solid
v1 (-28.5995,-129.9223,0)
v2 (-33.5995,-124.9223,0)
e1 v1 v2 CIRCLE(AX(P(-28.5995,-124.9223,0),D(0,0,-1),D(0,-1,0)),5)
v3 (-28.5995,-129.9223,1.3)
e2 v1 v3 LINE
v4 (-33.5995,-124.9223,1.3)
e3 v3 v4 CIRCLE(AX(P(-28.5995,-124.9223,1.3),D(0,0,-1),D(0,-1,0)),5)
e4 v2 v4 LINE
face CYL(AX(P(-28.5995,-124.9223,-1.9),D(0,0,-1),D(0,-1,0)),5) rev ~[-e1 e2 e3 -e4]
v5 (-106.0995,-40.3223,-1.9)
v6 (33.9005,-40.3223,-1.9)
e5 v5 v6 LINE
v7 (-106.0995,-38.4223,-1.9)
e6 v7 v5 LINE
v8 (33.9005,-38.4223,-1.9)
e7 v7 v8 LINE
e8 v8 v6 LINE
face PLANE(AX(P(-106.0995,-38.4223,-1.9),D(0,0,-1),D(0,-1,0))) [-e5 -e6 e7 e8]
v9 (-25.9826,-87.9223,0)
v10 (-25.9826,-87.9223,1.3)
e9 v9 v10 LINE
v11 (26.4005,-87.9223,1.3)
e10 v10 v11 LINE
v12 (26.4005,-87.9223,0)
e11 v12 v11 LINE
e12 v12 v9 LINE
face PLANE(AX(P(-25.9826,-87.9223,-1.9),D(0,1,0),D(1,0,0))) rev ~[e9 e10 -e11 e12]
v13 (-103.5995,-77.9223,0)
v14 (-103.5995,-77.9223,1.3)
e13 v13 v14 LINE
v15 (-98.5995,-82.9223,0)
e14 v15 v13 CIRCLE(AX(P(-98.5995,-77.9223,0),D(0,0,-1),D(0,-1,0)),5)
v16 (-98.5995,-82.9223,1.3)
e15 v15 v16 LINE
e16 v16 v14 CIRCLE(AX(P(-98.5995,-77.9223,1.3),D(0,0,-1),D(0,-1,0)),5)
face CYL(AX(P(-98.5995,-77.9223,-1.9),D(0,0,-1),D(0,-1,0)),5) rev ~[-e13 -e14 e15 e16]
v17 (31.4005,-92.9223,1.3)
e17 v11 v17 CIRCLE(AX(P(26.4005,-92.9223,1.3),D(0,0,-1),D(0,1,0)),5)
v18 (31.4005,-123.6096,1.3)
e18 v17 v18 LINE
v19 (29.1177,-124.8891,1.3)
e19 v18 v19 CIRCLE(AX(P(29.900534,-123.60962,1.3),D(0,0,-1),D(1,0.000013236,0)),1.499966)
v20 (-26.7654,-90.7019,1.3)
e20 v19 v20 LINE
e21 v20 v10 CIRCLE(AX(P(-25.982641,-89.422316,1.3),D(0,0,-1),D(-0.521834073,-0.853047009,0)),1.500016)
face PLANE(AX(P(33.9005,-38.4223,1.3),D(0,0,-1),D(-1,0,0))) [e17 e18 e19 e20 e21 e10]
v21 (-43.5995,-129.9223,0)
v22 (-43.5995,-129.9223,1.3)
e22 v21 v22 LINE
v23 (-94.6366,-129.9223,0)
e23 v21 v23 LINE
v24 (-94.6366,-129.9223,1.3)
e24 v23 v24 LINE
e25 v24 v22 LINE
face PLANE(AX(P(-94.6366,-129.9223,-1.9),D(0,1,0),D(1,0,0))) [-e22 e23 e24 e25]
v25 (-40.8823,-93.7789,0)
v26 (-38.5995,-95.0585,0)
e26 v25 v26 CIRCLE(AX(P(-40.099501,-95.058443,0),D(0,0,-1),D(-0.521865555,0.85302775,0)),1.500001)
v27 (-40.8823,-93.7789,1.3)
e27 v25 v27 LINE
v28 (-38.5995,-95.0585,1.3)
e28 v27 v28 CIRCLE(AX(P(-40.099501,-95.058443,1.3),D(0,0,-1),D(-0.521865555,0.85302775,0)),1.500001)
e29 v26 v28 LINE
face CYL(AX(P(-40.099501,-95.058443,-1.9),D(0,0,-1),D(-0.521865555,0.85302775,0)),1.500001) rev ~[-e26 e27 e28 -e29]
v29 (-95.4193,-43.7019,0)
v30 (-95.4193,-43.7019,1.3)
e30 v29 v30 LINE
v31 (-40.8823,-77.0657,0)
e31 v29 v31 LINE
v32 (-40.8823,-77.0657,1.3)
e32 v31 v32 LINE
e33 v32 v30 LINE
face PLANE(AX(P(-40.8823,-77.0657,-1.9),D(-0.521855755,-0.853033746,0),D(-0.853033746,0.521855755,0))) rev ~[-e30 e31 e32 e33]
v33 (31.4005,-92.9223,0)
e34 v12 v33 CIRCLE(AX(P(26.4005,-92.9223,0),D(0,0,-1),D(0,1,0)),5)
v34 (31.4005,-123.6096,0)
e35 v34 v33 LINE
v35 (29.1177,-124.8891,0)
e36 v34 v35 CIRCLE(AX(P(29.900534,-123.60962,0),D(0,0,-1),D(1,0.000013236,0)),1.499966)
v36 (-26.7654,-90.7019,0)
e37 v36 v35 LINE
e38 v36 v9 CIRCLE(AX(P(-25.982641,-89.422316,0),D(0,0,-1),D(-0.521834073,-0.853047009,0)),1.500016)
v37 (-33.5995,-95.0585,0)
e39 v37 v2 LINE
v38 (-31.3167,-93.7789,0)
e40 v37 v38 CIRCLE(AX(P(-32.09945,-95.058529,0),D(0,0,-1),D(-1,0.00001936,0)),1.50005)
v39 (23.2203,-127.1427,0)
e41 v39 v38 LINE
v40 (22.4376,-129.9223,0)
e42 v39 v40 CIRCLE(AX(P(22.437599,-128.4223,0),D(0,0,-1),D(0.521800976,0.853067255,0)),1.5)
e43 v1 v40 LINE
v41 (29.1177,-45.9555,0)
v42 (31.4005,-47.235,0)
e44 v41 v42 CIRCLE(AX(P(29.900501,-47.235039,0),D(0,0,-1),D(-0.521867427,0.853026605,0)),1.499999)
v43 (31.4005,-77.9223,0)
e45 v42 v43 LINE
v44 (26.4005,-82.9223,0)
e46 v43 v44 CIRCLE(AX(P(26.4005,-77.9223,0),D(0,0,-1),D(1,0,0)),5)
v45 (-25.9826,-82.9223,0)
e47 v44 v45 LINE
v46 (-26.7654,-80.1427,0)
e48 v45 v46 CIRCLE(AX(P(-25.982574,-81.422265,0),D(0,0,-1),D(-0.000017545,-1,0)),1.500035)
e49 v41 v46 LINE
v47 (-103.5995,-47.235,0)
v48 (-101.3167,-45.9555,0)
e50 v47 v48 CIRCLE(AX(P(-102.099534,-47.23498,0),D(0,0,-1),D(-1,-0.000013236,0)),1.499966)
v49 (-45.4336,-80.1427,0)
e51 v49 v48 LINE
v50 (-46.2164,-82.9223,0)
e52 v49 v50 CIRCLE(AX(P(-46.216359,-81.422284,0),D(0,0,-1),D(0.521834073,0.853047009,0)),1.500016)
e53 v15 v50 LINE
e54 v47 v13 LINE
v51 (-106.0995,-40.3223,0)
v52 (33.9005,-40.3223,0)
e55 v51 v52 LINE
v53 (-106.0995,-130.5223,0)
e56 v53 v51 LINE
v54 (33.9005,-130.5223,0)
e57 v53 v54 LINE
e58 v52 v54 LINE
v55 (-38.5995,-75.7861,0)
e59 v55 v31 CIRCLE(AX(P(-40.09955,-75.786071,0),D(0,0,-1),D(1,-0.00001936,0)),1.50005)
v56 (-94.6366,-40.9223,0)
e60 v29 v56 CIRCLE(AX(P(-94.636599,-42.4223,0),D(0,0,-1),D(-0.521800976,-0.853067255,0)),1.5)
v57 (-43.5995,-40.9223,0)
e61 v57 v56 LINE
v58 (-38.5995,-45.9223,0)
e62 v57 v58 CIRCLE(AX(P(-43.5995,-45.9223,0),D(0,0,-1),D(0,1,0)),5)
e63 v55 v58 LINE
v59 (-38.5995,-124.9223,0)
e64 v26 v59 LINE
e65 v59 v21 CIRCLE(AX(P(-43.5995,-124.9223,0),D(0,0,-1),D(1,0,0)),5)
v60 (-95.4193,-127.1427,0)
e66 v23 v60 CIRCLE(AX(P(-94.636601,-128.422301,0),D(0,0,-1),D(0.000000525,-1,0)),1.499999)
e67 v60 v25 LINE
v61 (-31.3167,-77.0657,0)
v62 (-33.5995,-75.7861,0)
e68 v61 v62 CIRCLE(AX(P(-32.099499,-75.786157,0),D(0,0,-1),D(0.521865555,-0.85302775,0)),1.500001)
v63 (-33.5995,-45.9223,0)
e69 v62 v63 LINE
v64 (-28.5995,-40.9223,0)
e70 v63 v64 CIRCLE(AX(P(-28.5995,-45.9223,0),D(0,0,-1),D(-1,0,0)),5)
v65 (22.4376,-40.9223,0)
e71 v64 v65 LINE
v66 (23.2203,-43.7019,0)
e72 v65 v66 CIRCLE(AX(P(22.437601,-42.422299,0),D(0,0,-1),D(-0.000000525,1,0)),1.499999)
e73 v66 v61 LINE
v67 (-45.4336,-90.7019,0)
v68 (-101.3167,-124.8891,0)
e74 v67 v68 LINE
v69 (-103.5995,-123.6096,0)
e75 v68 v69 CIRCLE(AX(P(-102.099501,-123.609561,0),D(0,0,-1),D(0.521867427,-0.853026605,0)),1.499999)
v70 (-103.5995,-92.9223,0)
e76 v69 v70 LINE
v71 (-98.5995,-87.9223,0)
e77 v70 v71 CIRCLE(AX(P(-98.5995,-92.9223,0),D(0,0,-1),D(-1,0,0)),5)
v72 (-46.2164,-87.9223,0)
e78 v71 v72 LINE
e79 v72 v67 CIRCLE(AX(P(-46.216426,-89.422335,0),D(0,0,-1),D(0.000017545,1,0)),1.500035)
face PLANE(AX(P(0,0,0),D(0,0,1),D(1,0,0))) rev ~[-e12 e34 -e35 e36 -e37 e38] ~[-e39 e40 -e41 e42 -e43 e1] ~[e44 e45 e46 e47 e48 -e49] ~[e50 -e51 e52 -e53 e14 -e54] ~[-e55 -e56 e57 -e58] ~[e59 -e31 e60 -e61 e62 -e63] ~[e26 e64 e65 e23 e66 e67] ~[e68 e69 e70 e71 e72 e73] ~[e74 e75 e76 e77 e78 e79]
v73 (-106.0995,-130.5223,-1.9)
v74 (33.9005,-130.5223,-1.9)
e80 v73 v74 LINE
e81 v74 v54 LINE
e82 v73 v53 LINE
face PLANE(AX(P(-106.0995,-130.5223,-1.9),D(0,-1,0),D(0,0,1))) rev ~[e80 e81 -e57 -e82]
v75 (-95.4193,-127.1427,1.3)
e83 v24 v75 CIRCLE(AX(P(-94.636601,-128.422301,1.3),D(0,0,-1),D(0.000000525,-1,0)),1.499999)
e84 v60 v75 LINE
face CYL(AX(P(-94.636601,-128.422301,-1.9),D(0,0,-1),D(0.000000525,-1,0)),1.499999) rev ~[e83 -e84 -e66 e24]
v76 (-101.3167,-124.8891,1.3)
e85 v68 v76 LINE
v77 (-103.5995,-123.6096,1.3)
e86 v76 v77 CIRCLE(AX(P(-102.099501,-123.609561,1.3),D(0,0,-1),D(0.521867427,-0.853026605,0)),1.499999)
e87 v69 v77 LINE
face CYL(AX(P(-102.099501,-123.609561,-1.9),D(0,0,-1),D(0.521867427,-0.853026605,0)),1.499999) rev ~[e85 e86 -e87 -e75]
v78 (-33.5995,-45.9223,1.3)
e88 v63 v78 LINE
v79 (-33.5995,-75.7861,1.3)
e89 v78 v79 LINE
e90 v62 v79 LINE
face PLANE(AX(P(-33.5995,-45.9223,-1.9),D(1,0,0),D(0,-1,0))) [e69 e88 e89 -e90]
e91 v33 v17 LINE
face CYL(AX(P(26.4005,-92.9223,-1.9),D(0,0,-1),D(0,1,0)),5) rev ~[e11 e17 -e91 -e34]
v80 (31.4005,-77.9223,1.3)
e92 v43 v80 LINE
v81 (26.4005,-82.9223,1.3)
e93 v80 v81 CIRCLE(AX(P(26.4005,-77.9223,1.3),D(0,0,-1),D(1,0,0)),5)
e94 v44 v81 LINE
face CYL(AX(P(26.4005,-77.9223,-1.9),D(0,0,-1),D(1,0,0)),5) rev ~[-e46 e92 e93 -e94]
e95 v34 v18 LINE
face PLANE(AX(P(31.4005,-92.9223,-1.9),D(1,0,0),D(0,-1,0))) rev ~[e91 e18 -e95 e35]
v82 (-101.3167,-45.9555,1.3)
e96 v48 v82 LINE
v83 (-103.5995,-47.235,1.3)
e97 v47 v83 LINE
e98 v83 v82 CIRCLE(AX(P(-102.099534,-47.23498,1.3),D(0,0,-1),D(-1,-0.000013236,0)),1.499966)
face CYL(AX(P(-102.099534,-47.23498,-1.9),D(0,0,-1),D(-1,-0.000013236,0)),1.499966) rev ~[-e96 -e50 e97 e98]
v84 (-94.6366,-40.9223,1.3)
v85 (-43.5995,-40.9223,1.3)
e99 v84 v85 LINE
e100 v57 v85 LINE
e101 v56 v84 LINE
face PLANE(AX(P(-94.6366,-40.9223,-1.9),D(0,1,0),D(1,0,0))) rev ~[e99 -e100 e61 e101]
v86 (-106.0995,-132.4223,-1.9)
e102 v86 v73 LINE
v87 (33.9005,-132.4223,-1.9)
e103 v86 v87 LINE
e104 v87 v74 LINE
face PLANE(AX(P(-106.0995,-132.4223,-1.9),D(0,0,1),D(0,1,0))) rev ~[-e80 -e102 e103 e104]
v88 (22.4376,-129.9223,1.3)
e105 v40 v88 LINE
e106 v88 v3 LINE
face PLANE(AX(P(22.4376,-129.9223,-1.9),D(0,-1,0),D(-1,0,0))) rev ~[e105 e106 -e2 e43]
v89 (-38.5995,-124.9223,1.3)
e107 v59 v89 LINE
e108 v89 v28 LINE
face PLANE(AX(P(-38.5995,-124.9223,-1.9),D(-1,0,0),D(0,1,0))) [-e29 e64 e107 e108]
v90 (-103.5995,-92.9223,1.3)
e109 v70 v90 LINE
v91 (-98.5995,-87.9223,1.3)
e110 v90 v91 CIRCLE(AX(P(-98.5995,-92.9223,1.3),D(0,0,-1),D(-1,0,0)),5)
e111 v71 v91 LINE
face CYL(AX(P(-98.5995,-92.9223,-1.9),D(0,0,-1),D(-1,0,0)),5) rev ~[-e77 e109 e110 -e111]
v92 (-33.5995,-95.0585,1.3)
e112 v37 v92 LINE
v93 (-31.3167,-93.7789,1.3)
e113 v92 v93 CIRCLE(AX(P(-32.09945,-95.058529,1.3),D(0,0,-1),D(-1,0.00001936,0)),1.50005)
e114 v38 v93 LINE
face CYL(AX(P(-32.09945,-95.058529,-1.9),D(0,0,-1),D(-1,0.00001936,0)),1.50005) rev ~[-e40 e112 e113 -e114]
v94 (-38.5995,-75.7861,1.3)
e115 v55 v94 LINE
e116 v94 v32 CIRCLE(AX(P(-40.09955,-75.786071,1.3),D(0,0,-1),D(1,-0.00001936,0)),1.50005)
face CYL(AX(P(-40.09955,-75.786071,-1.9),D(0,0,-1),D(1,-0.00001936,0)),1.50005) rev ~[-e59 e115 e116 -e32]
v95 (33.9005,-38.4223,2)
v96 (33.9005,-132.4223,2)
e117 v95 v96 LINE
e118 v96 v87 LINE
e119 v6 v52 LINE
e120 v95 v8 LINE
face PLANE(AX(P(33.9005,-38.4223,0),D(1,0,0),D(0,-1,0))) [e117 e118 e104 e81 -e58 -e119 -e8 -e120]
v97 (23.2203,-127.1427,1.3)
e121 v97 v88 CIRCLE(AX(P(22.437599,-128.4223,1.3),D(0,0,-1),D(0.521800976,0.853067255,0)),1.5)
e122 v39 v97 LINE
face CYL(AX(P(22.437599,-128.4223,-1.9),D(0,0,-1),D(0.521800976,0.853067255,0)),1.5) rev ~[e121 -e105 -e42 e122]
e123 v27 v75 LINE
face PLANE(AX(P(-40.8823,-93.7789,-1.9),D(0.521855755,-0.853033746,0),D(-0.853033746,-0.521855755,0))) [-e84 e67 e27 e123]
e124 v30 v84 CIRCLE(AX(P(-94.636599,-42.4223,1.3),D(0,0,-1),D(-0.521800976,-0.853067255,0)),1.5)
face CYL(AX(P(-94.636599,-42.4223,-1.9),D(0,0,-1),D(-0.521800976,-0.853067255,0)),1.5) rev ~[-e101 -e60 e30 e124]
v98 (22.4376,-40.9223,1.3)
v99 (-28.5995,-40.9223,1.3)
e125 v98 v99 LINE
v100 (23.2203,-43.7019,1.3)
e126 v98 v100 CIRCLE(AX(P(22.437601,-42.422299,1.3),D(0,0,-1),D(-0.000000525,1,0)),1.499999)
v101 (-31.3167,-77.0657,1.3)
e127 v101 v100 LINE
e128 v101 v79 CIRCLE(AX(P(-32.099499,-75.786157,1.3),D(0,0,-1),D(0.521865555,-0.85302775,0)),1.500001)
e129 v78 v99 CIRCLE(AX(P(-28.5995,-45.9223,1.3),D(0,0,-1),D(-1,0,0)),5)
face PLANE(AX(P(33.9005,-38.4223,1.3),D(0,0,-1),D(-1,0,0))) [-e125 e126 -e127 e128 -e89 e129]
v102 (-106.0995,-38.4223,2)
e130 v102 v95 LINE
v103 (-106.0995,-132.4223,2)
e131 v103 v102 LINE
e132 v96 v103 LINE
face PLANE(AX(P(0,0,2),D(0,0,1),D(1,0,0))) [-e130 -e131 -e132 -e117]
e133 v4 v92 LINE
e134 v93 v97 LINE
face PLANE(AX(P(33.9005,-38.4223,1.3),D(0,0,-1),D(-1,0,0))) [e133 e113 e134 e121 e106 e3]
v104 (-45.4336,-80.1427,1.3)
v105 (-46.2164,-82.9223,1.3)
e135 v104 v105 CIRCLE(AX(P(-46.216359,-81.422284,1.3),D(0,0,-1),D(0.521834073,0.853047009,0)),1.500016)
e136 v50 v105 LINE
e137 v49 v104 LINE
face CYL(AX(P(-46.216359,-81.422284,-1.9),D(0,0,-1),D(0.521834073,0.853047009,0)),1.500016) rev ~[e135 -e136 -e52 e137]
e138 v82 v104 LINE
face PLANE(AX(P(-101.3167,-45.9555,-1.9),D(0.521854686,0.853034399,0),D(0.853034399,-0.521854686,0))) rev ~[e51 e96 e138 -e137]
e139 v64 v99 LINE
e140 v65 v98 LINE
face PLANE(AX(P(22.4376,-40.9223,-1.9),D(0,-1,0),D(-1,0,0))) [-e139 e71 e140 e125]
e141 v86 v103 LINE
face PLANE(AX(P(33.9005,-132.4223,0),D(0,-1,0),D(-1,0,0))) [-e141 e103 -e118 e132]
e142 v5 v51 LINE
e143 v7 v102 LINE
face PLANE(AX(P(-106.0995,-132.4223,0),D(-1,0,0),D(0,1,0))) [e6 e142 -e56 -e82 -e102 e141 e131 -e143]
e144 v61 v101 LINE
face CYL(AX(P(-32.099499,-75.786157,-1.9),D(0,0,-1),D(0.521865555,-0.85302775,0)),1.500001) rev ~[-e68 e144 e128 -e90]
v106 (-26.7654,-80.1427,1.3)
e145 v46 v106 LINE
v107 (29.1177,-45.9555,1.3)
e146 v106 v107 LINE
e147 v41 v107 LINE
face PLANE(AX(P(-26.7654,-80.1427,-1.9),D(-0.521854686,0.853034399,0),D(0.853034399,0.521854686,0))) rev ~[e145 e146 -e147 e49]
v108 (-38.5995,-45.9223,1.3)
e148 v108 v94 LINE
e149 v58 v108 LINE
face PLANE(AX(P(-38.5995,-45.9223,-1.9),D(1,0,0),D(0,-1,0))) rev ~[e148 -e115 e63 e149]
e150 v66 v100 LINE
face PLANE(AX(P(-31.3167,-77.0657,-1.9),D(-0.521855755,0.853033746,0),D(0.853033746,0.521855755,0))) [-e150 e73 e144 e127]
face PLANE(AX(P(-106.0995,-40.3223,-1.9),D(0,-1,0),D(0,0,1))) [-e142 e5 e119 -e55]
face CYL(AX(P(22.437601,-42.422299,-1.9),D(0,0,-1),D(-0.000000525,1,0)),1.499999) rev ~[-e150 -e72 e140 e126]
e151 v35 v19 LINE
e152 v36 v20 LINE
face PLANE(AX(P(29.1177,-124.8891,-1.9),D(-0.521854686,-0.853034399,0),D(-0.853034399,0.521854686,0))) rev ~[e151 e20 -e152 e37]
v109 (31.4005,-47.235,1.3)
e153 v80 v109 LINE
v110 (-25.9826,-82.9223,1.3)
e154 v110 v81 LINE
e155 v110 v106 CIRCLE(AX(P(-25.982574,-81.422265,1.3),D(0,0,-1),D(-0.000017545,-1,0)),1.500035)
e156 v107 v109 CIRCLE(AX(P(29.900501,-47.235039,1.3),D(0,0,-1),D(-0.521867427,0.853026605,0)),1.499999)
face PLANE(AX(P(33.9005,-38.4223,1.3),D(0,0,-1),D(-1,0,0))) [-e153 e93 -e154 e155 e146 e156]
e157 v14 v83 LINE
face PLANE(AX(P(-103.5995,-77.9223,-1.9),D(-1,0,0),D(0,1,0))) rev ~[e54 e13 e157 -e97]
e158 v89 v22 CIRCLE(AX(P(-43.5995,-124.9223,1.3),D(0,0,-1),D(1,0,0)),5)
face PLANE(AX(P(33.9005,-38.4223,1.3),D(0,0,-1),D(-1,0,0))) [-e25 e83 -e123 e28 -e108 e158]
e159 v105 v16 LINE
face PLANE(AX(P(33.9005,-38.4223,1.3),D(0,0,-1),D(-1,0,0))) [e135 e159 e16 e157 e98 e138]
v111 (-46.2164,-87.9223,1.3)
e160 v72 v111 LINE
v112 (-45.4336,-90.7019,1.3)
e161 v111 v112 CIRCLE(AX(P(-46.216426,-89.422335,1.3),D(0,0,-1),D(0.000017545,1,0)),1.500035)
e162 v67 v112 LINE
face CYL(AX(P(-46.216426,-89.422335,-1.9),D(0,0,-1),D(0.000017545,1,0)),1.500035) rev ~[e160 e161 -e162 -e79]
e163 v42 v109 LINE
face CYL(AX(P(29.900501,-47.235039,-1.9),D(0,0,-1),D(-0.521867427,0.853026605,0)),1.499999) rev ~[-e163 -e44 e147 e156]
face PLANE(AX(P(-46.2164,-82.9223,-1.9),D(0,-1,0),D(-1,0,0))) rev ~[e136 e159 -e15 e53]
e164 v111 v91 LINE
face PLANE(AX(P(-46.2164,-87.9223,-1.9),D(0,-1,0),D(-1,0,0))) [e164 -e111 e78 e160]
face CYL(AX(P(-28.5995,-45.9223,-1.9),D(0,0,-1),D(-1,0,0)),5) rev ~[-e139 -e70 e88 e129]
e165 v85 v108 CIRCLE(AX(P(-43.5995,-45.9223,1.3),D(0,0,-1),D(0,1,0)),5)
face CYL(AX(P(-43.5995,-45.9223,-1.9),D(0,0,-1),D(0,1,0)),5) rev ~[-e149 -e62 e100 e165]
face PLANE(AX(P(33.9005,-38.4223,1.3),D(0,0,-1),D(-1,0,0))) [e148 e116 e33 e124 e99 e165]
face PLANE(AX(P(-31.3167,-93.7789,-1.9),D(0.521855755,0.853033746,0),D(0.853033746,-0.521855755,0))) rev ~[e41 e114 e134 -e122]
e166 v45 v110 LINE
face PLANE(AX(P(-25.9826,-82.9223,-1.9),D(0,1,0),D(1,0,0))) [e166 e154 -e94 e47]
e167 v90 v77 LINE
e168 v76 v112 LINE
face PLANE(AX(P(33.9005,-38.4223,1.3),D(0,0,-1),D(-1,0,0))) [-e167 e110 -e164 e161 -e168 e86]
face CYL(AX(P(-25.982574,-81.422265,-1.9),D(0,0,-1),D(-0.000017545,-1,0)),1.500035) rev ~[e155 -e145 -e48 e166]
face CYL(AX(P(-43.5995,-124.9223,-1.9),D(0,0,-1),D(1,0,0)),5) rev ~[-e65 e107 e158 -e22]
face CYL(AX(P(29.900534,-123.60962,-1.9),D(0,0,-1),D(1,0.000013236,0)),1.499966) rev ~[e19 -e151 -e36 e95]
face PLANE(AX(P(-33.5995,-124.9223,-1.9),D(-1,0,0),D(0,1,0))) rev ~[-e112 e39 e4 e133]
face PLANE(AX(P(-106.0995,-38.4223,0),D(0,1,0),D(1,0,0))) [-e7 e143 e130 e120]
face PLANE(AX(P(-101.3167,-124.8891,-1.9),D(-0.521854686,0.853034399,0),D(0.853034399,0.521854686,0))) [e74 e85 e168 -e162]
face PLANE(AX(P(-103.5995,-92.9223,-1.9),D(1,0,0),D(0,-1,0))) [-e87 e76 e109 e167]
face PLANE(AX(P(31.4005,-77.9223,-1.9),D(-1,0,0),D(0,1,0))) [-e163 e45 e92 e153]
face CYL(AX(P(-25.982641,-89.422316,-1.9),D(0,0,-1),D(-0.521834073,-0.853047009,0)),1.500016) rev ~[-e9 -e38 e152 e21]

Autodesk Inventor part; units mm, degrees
ref_plane "YZ Plane" through (0, 0, 0) normal (1, 0, 0) x (0, 1, 0)
ref_plane "XZ Plane" through (0, 0, 0) normal (0, 1, 0) x (-1, 0, 0)
ref_plane "XY Plane" through (0, 0, 0) normal (0, 0, 1) x (1, 0, 0)
sketch "PanelBody" plane through (0, 0, 0) normal (0, 0, 1) x (1, 0, 0)
  line L0 (-106.0995, -38.4223) -> (33.9005, -38.4223)
  line L1 (33.9005, -38.4223) -> (33.9005, -132.4223)
  line L2 (33.9005, -132.4223) -> (-106.0995, -132.4223)
  line L3 (-106.0995, -132.4223) -> (-106.0995, -38.4223)
  dimension "d1" = 140
  dimension "d2" = 94
extrude "PanelFace" add sketch "PanelBody" along normal blind 2
sketch "SideHooks" plane through (-106.0995, -132.4223, 0) normal (-1, 0, 0) x (0, 0, 1)
  line L0 (0, 94) -> (-1.9, 94)
  line L1 (-1.9, 94) -> (-1.9, 92.1)
  line L2 (-1.9, 92.1) -> (0, 92.1)
  line L3 (0, 92.1) -> (0, 94)
  line L4 (0, 0) -> (-1.9, 0)
  line L5 (-1.9, 0) -> (-1.9, 1.9)
  line L6 (-1.9, 1.9) -> (0, 1.9)
  line L7 (0, 1.9) -> (0, 0)
  point P0 (0, 132.4223)
  dimension "d33" = 1.9
extrude "Corners" add sketch "SideHooks" against normal blind 140
sketch "Sketch3" plane through (33.9005, -38.4223, -1.9) normal (0, 0, -1) x (-1, 0, 0)
  line L0 (0, -94) -> (140, -94) construction
  line L1 (140, -94) -> (140, 0) construction
  line L2 (140, 0) -> (0, 0) construction
  line L3 (0, 0) -> (0, -94) construction
  line L4 (137.5, -91.5) -> (133.8633, -91.5) construction
  line L5 (72.5, -86.5) -> (72.5, -56.6362)
  line L6 (137.5, -54.5) -> (137.5, -85.1873)
  line L7 (137.5, -2.5) -> (133.8633, -2.5) construction
  line L8 (72.5, -7.5) -> (72.5, -37.3638)
  line L9 (137.5, -39.5) -> (137.5, -8.8127)
  line L10 (2.5, -2.5) -> (6.1367, -2.5) construction
  line L11 (67.5, -7.5) -> (67.5, -37.3638)
  line L12 (2.5, -39.5) -> (2.5, -8.8127)
  line L13 (2.5, -91.5) -> (6.1367, -91.5) construction
  line L14 (67.5, -86.5) -> (67.5, -56.6362)
  line L15 (2.5, -54.5) -> (2.5, -85.1873)
  line L16 (72.5, -2.5) -> (67.5, -2.5) construction
  line L17 (2.5, -44.5) -> (2.5, -49.5) construction
  line L18 (67.5, -91.5) -> (72.5, -91.5) construction
  line L19 (137.5, -44.5) -> (137.5, -49.5) construction
  line L20 (135.2172, -7.5332) -> (79.3341, -41.7204)
  line L21 (74.7828, -38.6434) -> (129.3198, -5.2796)
  line L22 (65.2172, -38.6434) -> (10.6802, -5.2796)
  line L23 (60.6659, -41.7204) -> (4.7828, -7.5332)
  line L24 (11.4629, -2.5) -> (62.5, -2.5)
  line L25 (2.5, -6.1367) -> (2.5, -2.5) construction
  line L26 (80.1169, -44.5) -> (132.5, -44.5)
  line L27 (137.5, -6.1367) -> (137.5, -2.5) construction
  line L28 (128.5371, -2.5) -> (77.5, -2.5)
  line L29 (59.8831, -44.5) -> (7.5, -44.5)
  line L30 (135.2172, -86.4668) -> (79.3341, -52.2796)
  line L31 (74.7828, -55.3566) -> (129.3198, -88.7204)
  line L32 (65.2172, -55.3566) -> (10.6802, -88.7204)
  line L33 (4.7828, -86.4668) -> (60.6659, -52.2796)
  line L34 (80.1169, -49.5) -> (132.5, -49.5)
  line L35 (59.8831, -49.5) -> (7.5, -49.5)
  line L36 (2.5, -87.8633) -> (2.5, -91.5) construction
  line L37 (11.4629, -91.5) -> (62.5, -91.5)
  line L38 (128.5371, -91.5) -> (77.5, -91.5)
  line L39 (137.5, -87.8633) -> (137.5, -91.5) construction
  line L40 (140, -94) -> (0, -94) projected
  line L41 (140, 0) -> (0, 0) projected
  line L42 (0, -1.9) -> (0, -92.1) projected
  line L43 (140, 0) -> (140, -1.9) projected
  line L44 (103.0028, -27.2408) -> (100.3935, -22.9756) construction
  line L45 (91.7427, -59.8707) -> (89.1334, -64.1358) construction
  line L46 (57.5593, -60.0415) -> (54.95, -55.7763) construction
  line L47 (48.3721, -34.1995) -> (50.9813, -29.9344) construction
  line L48 (74.7906, -49.5) -> (65.2094, -49.5) construction
  line L49 (65.2094, -44.5) -> (74.7906, -44.5) construction
  line L50 (72.5, -53.9601) -> (72.5, -40.0399) construction
  line L51 (67.5, -53.9601) -> (67.5, -40.0399) construction
  arc A0 (77.5, -2.5) -> (72.5, -7.5) centre (77.5, -7.5) ccw
  arc A1 (67.5, -7.5) -> (62.5, -2.5) centre (62.5, -7.5) ccw
  arc A2 (72.5, -86.5) -> (77.5, -91.5) centre (77.5, -86.5) ccw
  arc A3 (62.5, -91.5) -> (67.5, -86.5) centre (62.5, -86.5) ccw
  arc A4 (2.5, -39.5) -> (7.5, -44.5) centre (7.5, -39.5) ccw
  arc A5 (7.5, -49.5) -> (2.5, -54.5) centre (7.5, -54.5) ccw
  arc A6 (137.5, -54.5) -> (132.5, -49.5) centre (132.5, -54.5) ccw
  arc A7 (132.5, -44.5) -> (137.5, -39.5) centre (132.5, -39.5) ccw
  arc A8 (80.1169, -49.5) -> (79.3341, -52.2796) centre (80.1169, -51) ccw
  arc A9 (74.7828, -55.3566) -> (72.5, -56.6362) centre (74, -56.6362) ccw
  arc A10 (67.5, -56.6362) -> (65.2172, -55.3566) centre (66, -56.6362) ccw
  arc A11 (60.6659, -52.2796) -> (59.8831, -49.5) centre (59.8831, -51) ccw
  arc A12 (59.8831, -44.5) -> (60.6659, -41.7204) centre (59.8831, -43) ccw
  arc A13 (65.2172, -38.6434) -> (67.5, -37.3638) centre (66, -37.3638) ccw
  arc A14 (72.5, -37.3638) -> (74.7828, -38.6434) centre (74, -37.3638) ccw
  arc A15 (79.3341, -41.7204) -> (80.1169, -44.5) centre (80.1169, -43) ccw
  arc A16 (137.5, -8.8127) -> (135.2172, -7.5332) centre (136, -8.8127) ccw
  arc A17 (129.3198, -5.2796) -> (128.5371, -2.5) centre (128.5371, -4) ccw
  arc A18 (11.4629, -2.5) -> (10.6802, -5.2796) centre (11.4629, -4) ccw
  arc A19 (4.7828, -7.5332) -> (2.5, -8.8127) centre (4, -8.8127) ccw
  arc A20 (2.5, -85.1873) -> (4.7828, -86.4668) centre (4, -85.1873) ccw
  arc A21 (10.6802, -88.7204) -> (11.4629, -91.5) centre (11.4629, -90) ccw
  arc A22 (128.5371, -91.5) -> (129.3198, -88.7204) centre (128.5371, -90) ccw
  arc A23 (135.2172, -86.4668) -> (137.5, -85.1873) centre (136, -85.1873) ccw
  dimension "d16" = 2.5
  dimension "d24" = 5
  dimension "d25" = 5
  dimension "d26" = 2.5
  dimension "d27" = 2.5
  dimension "d28" = 2.5
  dimension "d34" = 0
  dimension "d36" = 0
  dimension "d37" = 0
  dimension "d38" = 0
  dimension "d39" = 5
  dimension "d40" = 5
  dimension "d41" = 1.5
extrude "ReinforcementBars" cut sketch "Sketch3" against normal blind 3.2
sketch "Sketch4" plane through (0, 0, 2) normal (0, 0, 1) x (1, 0, 0)
  line L0 (-62.4757, -113.2868) -> (-62.4757, -58.6034) construction
  line L1 (-62.4757, -58.6034) -> (1.9126, -58.6034) construction
  line L2 (1.9126, -58.6034) -> (1.9126, -113.2868) construction
  line L3 (1.9126, -113.2868) -> (-62.4757, -113.2868) construction
  point P0 (0, 0)
extrude "Extrusion4" [suppressed]
properties part number "SidePanelNarrow" material "Nylon 6"
